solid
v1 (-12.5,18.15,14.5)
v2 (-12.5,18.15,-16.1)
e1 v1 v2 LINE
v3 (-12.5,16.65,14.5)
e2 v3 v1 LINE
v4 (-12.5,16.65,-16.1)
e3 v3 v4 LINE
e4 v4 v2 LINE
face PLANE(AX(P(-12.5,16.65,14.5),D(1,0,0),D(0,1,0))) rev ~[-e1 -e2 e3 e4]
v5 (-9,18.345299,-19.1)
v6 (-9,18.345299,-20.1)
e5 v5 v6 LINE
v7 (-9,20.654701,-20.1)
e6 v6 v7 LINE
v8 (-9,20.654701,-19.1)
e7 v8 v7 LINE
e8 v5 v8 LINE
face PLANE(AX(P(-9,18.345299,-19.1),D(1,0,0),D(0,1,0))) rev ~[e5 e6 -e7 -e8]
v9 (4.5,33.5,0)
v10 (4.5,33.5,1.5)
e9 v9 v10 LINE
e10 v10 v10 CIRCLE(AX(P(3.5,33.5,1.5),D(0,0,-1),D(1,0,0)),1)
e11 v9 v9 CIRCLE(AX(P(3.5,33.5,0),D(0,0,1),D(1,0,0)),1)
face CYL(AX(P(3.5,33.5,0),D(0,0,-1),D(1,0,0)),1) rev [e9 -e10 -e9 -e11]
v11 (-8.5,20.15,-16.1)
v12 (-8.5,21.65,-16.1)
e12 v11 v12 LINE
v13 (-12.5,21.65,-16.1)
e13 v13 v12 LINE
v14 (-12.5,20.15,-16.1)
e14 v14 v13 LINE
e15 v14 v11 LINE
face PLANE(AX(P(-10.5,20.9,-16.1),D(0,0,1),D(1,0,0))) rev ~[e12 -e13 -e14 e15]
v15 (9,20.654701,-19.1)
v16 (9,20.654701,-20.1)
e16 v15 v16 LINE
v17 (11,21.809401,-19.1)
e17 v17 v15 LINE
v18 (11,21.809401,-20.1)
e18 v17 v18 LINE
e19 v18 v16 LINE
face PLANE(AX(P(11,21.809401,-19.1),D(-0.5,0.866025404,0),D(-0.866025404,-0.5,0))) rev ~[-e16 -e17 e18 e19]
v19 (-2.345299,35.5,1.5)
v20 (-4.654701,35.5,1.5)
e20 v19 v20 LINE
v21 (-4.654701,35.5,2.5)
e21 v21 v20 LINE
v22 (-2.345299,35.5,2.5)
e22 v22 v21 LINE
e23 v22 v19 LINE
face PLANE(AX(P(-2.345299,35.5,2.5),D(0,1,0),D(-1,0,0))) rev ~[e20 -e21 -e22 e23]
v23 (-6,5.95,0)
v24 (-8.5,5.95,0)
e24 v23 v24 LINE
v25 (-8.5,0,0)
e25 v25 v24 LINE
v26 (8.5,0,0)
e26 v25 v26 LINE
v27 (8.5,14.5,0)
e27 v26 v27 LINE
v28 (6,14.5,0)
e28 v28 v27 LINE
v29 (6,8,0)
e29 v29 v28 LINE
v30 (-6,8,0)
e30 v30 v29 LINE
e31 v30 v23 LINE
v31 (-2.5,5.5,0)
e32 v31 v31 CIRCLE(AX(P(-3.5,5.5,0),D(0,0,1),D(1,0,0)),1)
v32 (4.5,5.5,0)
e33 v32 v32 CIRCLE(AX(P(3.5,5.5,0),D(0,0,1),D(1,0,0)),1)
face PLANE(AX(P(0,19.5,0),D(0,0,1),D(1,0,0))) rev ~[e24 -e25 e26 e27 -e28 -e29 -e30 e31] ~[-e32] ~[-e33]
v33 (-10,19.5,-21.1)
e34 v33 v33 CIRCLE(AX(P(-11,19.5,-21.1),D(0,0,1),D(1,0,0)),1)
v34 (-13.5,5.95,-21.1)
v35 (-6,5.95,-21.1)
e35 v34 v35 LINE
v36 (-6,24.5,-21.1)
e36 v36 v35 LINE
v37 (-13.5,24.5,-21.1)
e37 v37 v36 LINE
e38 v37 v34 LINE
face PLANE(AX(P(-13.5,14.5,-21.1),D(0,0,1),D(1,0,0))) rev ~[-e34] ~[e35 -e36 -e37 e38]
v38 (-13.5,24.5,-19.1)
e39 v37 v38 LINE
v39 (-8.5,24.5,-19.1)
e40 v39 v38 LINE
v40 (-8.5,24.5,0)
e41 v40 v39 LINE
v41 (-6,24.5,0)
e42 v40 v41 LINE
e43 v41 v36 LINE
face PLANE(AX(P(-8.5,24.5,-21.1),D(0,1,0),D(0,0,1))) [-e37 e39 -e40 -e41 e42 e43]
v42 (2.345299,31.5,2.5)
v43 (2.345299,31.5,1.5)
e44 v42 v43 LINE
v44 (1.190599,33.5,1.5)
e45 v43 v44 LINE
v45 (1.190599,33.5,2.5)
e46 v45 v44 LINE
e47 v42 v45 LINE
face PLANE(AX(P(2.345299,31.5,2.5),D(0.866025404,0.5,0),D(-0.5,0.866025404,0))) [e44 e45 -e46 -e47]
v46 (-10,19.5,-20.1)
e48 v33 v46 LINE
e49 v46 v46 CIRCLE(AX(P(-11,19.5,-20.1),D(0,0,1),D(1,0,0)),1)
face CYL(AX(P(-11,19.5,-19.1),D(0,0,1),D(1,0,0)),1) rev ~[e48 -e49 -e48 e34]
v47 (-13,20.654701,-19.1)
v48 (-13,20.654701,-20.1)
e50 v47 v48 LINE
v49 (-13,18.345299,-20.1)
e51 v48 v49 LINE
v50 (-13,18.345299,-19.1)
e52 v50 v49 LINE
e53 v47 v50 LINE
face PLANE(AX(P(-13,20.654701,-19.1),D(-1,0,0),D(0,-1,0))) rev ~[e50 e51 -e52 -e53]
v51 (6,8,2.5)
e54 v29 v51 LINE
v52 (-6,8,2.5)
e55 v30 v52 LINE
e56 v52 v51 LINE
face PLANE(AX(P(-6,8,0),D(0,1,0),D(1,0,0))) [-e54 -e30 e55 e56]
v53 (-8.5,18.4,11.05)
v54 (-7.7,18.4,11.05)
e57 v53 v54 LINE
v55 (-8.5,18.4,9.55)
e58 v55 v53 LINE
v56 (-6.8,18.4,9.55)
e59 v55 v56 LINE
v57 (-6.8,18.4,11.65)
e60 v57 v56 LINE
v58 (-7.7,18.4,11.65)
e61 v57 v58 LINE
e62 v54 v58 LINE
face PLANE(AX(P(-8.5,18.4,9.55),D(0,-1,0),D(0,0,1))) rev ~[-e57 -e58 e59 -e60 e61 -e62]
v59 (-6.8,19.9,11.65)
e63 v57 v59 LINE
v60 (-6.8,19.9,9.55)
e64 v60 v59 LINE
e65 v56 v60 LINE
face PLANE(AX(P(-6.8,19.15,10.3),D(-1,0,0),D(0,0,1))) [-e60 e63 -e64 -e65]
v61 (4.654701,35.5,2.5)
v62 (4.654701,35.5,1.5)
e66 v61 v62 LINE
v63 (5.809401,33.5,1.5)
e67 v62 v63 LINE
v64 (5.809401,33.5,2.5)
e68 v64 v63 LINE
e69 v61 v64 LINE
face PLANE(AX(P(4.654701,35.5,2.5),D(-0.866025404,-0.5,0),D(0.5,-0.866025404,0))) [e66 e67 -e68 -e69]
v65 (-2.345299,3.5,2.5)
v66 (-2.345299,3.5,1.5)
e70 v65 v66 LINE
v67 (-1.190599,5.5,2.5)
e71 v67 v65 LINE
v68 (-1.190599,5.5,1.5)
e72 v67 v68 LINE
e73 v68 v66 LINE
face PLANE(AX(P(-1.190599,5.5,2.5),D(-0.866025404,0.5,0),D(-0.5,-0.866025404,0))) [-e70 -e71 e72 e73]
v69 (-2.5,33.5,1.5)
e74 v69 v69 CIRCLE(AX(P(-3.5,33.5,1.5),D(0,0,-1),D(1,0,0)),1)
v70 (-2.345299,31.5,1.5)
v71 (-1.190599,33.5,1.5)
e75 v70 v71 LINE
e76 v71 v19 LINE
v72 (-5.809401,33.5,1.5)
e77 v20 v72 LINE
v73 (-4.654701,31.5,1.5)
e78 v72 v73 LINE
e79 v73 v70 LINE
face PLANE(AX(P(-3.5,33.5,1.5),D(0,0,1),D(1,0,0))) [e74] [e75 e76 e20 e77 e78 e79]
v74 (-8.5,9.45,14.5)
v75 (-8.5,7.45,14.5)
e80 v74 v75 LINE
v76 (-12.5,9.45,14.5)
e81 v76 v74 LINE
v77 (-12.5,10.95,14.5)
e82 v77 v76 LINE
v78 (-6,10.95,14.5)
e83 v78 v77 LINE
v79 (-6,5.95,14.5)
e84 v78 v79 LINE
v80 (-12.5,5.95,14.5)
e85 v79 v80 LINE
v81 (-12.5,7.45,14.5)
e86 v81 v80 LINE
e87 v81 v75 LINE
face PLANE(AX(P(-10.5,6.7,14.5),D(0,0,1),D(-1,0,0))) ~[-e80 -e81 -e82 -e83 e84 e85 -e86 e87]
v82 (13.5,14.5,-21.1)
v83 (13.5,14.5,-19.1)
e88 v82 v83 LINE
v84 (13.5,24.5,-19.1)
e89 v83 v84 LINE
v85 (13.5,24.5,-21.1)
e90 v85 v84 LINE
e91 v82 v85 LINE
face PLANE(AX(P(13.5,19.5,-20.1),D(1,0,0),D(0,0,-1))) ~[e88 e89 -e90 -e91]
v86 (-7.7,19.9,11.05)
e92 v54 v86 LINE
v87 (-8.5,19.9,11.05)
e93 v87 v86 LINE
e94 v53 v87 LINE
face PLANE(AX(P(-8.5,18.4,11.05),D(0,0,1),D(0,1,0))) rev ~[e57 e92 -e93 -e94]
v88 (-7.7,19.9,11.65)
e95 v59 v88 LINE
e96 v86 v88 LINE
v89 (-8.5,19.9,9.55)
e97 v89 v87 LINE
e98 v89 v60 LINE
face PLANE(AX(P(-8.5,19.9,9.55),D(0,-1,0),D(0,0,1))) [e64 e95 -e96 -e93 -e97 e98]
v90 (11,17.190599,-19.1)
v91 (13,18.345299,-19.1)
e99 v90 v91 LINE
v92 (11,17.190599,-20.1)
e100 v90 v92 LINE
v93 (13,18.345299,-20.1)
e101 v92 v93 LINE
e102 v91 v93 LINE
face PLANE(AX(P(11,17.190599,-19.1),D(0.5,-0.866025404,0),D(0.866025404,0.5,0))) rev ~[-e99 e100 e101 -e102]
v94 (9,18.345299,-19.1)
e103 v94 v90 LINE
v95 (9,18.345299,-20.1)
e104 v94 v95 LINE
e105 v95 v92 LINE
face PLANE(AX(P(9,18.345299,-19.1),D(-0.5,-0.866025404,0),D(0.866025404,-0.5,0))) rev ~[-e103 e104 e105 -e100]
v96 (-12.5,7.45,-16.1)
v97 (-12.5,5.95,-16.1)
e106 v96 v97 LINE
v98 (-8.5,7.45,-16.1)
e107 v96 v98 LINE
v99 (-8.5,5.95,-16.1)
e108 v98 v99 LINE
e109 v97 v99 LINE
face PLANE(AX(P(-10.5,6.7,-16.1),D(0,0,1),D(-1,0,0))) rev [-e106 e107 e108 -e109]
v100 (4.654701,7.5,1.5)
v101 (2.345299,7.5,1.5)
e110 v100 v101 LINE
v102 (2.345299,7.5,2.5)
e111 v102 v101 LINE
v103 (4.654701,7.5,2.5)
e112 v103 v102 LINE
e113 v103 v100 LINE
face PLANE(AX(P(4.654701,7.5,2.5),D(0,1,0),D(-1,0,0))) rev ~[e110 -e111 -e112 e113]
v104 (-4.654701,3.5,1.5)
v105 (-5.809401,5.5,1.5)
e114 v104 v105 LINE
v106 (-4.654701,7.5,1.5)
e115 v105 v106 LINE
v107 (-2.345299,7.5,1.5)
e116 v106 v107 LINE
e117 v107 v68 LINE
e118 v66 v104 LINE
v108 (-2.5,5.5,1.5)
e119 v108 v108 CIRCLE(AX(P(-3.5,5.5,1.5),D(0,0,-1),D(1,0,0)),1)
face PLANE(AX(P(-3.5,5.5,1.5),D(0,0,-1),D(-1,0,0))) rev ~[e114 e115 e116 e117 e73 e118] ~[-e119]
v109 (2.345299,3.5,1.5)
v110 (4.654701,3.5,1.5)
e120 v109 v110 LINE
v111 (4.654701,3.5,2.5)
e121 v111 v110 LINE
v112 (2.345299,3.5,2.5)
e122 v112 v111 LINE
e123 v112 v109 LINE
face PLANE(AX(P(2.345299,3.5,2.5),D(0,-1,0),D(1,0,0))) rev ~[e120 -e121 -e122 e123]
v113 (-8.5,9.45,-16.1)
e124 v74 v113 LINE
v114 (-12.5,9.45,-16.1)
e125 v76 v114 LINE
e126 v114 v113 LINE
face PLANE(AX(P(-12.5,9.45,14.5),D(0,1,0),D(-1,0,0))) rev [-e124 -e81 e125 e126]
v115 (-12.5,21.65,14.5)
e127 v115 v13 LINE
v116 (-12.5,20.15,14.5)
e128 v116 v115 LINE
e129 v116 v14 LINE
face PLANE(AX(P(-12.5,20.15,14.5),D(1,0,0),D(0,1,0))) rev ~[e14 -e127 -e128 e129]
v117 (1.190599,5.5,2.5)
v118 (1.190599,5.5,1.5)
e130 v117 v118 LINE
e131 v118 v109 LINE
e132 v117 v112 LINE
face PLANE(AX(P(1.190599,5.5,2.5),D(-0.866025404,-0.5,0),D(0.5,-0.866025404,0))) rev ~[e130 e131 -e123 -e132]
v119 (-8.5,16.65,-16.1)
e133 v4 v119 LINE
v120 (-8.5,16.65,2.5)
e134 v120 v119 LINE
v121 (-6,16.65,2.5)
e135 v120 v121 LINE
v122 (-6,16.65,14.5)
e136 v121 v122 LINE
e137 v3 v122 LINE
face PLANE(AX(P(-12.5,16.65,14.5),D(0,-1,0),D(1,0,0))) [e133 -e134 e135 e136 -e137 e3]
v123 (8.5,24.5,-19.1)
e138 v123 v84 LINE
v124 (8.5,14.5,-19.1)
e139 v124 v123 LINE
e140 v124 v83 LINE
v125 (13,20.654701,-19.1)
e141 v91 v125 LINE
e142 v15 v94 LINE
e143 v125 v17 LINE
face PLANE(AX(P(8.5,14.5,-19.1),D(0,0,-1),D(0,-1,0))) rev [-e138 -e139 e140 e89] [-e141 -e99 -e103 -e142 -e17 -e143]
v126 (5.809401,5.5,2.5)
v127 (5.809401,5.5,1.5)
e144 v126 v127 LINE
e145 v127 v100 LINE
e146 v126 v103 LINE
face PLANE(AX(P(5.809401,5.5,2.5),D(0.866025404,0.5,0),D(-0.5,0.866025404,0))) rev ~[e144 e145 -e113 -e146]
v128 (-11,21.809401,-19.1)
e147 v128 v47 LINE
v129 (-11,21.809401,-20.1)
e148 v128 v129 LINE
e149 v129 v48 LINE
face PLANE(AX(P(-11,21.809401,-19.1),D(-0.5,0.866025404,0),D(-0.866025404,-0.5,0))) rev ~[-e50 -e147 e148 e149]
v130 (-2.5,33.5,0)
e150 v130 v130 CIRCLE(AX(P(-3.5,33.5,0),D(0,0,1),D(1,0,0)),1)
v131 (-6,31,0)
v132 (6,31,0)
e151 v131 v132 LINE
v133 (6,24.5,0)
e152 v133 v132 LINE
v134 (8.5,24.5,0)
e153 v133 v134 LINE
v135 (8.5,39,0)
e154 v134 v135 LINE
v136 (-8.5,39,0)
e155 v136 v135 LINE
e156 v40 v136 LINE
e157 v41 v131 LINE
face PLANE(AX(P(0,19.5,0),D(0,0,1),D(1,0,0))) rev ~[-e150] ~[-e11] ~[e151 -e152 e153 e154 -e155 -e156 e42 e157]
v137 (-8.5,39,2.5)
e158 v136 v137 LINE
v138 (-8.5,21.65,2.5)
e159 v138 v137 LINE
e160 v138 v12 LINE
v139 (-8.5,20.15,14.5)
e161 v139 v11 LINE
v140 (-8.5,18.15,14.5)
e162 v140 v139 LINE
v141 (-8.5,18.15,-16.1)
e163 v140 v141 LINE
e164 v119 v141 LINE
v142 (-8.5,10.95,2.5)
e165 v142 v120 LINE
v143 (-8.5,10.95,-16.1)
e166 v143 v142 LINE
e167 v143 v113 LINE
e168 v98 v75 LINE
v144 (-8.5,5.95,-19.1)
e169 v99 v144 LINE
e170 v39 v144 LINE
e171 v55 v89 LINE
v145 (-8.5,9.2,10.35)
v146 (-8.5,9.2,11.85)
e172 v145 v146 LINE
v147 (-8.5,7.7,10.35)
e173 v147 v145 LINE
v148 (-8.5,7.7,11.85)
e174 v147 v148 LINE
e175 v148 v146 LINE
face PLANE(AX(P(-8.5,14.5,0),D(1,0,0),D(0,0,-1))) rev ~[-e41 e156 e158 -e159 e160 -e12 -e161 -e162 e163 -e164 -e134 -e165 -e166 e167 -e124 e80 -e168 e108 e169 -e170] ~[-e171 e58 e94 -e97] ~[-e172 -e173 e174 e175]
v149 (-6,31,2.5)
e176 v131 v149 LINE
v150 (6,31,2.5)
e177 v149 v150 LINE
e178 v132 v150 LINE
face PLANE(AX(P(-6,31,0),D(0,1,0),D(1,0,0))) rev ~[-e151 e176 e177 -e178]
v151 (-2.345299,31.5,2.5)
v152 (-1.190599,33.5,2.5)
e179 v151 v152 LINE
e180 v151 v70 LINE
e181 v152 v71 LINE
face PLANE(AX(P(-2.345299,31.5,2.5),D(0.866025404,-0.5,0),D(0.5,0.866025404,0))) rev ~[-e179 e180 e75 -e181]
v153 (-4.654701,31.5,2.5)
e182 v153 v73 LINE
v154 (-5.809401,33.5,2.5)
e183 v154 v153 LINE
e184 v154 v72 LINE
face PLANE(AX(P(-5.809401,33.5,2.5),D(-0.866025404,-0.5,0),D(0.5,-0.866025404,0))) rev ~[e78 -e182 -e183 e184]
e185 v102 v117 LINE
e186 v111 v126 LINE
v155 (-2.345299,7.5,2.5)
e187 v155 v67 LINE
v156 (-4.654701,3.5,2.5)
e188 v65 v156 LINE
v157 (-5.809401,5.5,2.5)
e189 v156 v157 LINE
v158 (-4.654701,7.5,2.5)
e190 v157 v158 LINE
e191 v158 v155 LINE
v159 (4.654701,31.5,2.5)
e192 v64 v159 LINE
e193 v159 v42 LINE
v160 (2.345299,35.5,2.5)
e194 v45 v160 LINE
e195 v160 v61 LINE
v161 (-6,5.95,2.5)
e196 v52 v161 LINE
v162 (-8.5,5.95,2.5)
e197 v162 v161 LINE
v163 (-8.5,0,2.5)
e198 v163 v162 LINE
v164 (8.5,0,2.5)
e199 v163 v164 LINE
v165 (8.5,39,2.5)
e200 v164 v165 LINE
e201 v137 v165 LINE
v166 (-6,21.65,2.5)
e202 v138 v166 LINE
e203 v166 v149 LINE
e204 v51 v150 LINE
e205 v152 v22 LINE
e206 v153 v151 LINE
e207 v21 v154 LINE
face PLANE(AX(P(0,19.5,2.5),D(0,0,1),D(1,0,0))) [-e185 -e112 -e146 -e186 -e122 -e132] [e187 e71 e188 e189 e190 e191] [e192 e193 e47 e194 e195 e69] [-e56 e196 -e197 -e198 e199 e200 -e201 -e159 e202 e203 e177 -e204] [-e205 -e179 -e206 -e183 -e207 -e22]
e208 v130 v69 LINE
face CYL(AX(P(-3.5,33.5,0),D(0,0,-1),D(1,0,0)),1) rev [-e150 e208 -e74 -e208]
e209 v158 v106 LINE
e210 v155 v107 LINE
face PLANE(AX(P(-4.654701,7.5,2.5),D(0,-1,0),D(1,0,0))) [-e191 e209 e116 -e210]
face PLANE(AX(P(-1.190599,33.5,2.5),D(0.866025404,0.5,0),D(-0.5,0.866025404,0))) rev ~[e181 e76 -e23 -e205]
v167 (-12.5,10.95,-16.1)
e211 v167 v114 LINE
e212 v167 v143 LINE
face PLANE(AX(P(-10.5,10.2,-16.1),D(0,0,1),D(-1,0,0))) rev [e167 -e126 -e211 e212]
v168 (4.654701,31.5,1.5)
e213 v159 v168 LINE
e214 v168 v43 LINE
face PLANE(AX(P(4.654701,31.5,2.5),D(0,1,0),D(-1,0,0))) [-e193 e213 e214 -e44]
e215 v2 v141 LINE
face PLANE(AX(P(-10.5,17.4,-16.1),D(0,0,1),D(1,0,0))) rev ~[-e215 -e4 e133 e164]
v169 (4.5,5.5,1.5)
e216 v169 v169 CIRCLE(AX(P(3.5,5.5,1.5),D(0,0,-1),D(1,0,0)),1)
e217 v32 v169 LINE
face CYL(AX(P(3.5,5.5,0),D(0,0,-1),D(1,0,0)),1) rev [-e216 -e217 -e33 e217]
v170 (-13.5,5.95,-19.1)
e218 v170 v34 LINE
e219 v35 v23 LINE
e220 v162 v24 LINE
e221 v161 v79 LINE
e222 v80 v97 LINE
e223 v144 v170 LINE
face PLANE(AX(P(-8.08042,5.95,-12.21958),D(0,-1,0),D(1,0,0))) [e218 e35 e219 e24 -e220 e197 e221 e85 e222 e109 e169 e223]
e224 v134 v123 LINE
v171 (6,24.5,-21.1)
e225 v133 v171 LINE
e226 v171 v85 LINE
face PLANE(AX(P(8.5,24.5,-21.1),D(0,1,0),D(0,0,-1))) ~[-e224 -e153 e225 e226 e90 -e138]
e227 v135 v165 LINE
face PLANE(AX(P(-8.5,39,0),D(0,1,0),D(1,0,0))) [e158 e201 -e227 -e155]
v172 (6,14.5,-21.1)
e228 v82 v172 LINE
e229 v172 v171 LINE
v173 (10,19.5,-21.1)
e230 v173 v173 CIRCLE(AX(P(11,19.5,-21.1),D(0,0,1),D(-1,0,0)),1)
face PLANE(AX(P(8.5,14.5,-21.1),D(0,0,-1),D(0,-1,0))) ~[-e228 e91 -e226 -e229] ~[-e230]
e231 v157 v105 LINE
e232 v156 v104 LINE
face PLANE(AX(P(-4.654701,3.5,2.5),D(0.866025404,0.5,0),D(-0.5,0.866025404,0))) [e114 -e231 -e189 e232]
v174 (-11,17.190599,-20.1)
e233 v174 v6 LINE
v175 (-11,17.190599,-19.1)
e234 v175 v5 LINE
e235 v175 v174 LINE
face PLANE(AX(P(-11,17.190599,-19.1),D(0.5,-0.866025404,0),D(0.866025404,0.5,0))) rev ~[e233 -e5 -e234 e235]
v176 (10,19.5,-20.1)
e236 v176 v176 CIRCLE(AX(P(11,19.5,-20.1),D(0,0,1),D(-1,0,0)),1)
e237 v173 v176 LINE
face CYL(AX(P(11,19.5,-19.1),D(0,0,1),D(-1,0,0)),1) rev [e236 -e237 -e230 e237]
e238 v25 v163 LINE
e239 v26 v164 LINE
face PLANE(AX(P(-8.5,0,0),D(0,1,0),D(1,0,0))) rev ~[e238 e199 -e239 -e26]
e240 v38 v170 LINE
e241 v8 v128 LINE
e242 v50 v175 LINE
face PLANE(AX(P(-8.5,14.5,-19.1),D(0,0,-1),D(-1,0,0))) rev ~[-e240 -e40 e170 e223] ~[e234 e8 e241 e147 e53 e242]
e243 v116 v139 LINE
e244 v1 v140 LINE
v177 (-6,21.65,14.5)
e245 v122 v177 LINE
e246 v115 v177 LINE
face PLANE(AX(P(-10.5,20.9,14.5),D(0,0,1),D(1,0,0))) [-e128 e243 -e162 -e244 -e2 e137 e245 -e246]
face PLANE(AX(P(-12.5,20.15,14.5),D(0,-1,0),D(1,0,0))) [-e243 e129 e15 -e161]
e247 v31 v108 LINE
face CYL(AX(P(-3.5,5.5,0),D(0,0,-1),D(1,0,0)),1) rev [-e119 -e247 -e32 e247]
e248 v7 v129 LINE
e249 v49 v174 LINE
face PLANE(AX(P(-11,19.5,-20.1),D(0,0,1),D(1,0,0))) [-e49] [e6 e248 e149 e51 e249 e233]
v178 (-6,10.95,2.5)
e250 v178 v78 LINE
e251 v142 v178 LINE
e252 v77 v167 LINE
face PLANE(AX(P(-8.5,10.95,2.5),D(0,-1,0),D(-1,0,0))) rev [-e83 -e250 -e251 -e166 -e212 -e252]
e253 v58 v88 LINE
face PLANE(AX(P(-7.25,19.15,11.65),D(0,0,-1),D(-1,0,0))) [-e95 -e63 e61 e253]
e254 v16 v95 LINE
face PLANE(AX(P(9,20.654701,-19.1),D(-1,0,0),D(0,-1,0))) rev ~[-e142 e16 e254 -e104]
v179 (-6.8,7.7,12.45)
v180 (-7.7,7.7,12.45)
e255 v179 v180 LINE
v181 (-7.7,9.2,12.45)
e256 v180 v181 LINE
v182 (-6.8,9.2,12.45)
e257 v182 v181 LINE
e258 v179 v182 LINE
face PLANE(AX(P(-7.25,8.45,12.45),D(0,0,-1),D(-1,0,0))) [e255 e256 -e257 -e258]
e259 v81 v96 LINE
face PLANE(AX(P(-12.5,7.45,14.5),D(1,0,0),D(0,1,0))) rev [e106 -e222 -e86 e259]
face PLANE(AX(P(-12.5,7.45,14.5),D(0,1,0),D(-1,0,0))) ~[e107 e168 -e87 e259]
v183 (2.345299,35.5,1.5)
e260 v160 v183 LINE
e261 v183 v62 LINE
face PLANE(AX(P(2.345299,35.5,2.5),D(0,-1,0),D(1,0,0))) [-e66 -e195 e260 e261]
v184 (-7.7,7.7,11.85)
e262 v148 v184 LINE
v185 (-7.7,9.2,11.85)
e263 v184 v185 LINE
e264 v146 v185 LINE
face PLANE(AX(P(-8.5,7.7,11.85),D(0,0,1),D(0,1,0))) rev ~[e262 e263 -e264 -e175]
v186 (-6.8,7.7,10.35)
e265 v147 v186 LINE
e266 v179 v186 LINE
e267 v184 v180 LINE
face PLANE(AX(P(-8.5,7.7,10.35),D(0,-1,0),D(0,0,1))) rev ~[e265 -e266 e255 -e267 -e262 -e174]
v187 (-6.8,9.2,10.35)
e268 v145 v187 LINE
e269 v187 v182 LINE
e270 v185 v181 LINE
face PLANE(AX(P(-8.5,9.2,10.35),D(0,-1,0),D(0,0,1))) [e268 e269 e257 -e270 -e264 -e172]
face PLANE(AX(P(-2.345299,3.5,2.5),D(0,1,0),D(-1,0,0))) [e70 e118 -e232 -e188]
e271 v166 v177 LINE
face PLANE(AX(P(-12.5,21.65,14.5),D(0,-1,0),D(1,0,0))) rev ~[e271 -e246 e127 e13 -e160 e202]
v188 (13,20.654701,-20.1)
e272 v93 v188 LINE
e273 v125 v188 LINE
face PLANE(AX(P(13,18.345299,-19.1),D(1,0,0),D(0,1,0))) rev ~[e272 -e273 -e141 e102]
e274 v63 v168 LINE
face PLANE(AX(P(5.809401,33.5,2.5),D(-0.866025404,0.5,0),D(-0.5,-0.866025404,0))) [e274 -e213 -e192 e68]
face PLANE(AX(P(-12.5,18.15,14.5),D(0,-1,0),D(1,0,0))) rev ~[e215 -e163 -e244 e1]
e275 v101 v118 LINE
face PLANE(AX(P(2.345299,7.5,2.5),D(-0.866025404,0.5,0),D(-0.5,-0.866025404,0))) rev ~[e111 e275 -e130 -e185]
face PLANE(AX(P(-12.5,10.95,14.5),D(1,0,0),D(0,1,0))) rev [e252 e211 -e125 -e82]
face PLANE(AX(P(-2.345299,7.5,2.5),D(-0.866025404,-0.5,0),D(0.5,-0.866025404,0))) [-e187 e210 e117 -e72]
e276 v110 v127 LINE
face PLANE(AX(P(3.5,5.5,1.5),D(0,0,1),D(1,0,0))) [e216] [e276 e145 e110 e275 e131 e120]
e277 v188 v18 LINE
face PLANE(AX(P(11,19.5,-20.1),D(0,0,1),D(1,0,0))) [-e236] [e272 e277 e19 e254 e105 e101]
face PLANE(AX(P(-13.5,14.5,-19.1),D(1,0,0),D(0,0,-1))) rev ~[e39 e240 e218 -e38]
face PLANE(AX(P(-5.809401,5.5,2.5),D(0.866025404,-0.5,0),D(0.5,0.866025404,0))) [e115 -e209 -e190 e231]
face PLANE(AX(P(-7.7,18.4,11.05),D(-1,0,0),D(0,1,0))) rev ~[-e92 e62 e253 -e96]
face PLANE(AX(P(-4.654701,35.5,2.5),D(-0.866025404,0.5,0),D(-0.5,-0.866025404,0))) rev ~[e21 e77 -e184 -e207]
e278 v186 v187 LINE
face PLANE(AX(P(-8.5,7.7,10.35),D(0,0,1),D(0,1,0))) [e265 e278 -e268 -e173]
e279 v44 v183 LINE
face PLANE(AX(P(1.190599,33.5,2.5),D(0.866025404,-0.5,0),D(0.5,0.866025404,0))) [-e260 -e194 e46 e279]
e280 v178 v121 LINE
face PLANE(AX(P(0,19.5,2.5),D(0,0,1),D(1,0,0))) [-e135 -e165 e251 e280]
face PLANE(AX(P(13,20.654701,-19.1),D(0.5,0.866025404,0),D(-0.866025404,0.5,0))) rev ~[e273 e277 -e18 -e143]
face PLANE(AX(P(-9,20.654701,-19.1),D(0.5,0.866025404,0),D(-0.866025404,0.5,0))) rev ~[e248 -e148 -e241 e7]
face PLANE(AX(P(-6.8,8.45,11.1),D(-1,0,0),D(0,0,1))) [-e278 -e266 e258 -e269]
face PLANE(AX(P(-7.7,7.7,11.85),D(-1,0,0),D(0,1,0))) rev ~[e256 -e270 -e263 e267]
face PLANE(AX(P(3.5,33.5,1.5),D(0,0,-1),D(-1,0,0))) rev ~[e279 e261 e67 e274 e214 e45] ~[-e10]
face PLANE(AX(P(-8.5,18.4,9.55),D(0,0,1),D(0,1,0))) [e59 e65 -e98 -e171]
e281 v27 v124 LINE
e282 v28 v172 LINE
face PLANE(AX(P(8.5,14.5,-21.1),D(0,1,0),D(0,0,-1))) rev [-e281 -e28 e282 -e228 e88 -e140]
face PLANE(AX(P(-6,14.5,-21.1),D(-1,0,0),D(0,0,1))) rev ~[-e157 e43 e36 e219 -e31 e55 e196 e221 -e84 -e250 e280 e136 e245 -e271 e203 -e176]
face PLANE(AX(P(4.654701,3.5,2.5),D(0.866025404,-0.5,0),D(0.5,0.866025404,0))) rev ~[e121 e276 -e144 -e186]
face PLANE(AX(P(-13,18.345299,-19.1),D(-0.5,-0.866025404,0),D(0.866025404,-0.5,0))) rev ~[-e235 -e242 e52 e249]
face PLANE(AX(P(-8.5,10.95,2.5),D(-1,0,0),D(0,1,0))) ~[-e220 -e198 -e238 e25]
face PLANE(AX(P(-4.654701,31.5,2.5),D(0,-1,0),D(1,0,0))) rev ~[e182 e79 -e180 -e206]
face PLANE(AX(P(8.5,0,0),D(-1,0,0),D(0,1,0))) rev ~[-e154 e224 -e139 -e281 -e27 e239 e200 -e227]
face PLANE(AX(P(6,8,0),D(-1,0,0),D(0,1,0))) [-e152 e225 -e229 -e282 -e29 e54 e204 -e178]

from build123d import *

# Parameters (mm, degrees)
SKETCH1_W                     = 17
SKETCH1_H                     = 39
SKETCH1_R                     = 1
SKETCH1_W_2                   = 12
SKETCH1_H_2                   = 23
SERVOBRACKET_DEPTH            = 2.5
SKETCH1_5_W                   = 2.5
SKETCH1_5_H                   = 10
SUPPORTLEGS_DEPTH             = 21.1
SKETCH2_W                     = 2
SKETCH2_H                     = 10
SUPPORTFOOT_DEPTH             = 5
SKETCH3_R                     = 1
BASEBOLTHOLE_DEPTH            = 47.581219392
SERVONUTSLOTS_DEPTH           = 1
BASENUTSLOTS_DEPTH            = 1
SKETCH6_W                     = 2.5
SKETCH6_H                     = 5
TUBEHOLDERBASE_DEPTH          = 12
SKETCH7_W                     = 4
SKETCH7_H                     = 1.5
TUBEHOLDERSTIFFENERRIBS_DEPTH = 30.6
SKETCH8_W                     = 1.5
SKETCH8_H                     = 1.5
SKETCH8_W_2                   = 1
SKETCH8_H_2                   = 1
TUBECLIPENTRANCES_DEPTH       = 1.7
SKETCH9_W                     = 0.9
SKETCH9_H                     = 1.5
TUBECLIPLOCKSLOT_DEPTH        = 0.6
SKETCH10_W                    = 0.9
SKETCH10_H                    = 1.5
TUBECLIPLOCKSLOT2_DEPTH       = 0.6
SUPPORTLEGEXTENSION_DEPTH     = 8.55


with BuildPart() as part:
    # Sketch1 → ServoBracket (new body)
    with BuildSketch(Plane.XY):
        with Locations((0, 19.5)):
            Rectangle(SKETCH1_W, SKETCH1_H)
        with Locations((-3.5, 33.5)):
            Circle(SKETCH1_R, mode=Mode.SUBTRACT)
        with Locations((-3.5, 5.5)):
            Circle(SKETCH1_R, mode=Mode.SUBTRACT)
        with Locations((3.5, 5.5)):
            Circle(SKETCH1_R, mode=Mode.SUBTRACT)
        with Locations((3.5, 33.5)):
            Circle(SKETCH1_R, mode=Mode.SUBTRACT)
        with Locations((0, 19.5)):
            Rectangle(SKETCH1_W_2, SKETCH1_H_2, mode=Mode.SUBTRACT)
    extrude(amount=SERVOBRACKET_DEPTH)

    # Sketch1<5> → SupportLegs (add)
    with BuildSketch(Plane.XY):
        with Locations((-7.25, 19.5)):
            Rectangle(SKETCH1_5_W, SKETCH1_5_H)
        with Locations((7.25, 19.5)):
            Rectangle(SKETCH1_5_W, SKETCH1_5_H)
    extrude(amount=-SUPPORTLEGS_DEPTH)

    # Sketch2 → SupportFoot (add)
    with BuildSketch(Plane.ZY.offset(8.5)):
        with Locations((-20.1, 19.5)):
            Rectangle(SKETCH2_W, SKETCH2_H)
    supportfoot = extrude(amount=SUPPORTFOOT_DEPTH)

    # Sketch3 → BaseBoltHole (cut, symmetric)
    with BuildSketch(Plane.XY.offset(-19.1)):
        with Locations((-11, 19.5)):
            Circle(SKETCH3_R)
    basebolthole = extrude(amount=BASEBOLTHOLE_DEPTH, both=True, mode=Mode.SUBTRACT)

    # SupportFoot2: SupportFoot, BaseBoltHole across plane
    add(supportfoot.mirror(Plane(origin=(0, 0, 0), x_dir=(0, 0, 1), z_dir=(1, 0, 0))))
    add(basebolthole.mirror(Plane(origin=(0, 0, 0), x_dir=(0, 0, 1), z_dir=(1, 0, 0))), mode=Mode.SUBTRACT)

    # Sketch4 → ServoNutSlots (cut)
    with BuildSketch(Plane.XY.offset(2.5)):
        Polygon((-4.654700538, 7.5), (-2.345299462, 7.5), (-1.190598923, 5.5), (-2.345299462, 3.5), (-4.654700538, 3.5), (-5.809401077, 5.5), align=None)
        Polygon((-1.190598923, 33.5), (-2.345299462, 35.5), (-4.654700538, 35.5), (-5.809401077, 33.5), (-4.654700538, 31.5), (-2.345299462, 31.5), align=None)
        Polygon((2.345299462, 31.5), (1.190598923, 33.5), (2.345299462, 35.5), (4.654700538, 35.5), (5.809401077, 33.5), (4.654700538, 31.5), align=None)
        Polygon((4.654700538, 7.5), (2.345299462, 7.5), (1.190598923, 5.5), (2.345299462, 3.5), (4.654700538, 3.5), (5.809401077, 5.5), align=None)
    extrude(amount=-SERVONUTSLOTS_DEPTH, mode=Mode.SUBTRACT)

    # Sketch5 → BaseNutSlots (cut)
    with BuildSketch(Plane.XY.offset(-19.1)):
        Polygon((-11, 21.809401077), (-13, 20.654700538), (-13, 18.345299462), (-11, 17.190598923), (-9, 18.345299462), (-9, 20.654700538), align=None)
        Polygon((11, 21.809401077), (9, 20.654700538), (9, 18.345299462), (11, 17.190598923), (13, 18.345299462), (13, 20.654700538), align=None)
    extrude(amount=-BASENUTSLOTS_DEPTH, mode=Mode.SUBTRACT)

    # Sketch6 → TubeHolderBase (add)
    with BuildSketch(Plane.XY.offset(2.5)):
        with Locations((-7.25, 19.15)):
            Rectangle(SKETCH6_W, SKETCH6_H)
    tubeholderbase = extrude(amount=TUBEHOLDERBASE_DEPTH)

    # Sketch7 → TubeHolderStiffenerRibs (add)
    with BuildSketch(Plane.XY.offset(14.5)):
        with Locations((-10.5, 20.9)):
            Rectangle(SKETCH7_W, SKETCH7_H)
        with Locations((-10.5, 17.4)):
            Rectangle(SKETCH7_W, SKETCH7_H)
    tubeholderstiffenerribs = extrude(amount=-TUBEHOLDERSTIFFENERRIBS_DEPTH)

    # TubeHolder2: TubeHolderBase, TubeHolderStiffenerRibs across plane
    add(tubeholderbase.mirror(Plane.ZX.offset(13.8)))
    add(tubeholderstiffenerribs.mirror(Plane.ZX.offset(13.8)))

    # Sketch8 → TubeClipEntrances (cut)
    # profile 1 of 4: a face of its own
    with BuildSketch(Plane.ZY.offset(8.5)):
        with Locations((10.3, 19.15)):
            Rectangle(SKETCH8_W, SKETCH8_H)
        with Locations((10.3, 19.15)):
            Rectangle(SKETCH8_W_2, SKETCH8_H_2, mode=Mode.SUBTRACT)
    # profile 2 of 4: a face of its own
    with BuildSketch(Plane.ZY.offset(8.5)):
        with Locations((10.3, 19.15)):
            Rectangle(SKETCH8_W_2, SKETCH8_H_2)
    # profile 3 of 4: a face of its own
    with BuildSketch(Plane.ZY.offset(8.5)):
        with Locations((11.1, 8.45)):
            Rectangle(SKETCH8_W, SKETCH8_H)
        with Locations((11.1, 8.45)):
            Rectangle(SKETCH8_W_2, SKETCH8_H_2, mode=Mode.SUBTRACT)
    # profile 4 of 4: a face of its own
    with BuildSketch(Plane.ZY.offset(8.5)):
        with Locations((11.1, 8.45)):
            Rectangle(SKETCH8_W_2, SKETCH8_H_2)
    extrude(amount=-TUBECLIPENTRANCES_DEPTH, mode=Mode.SUBTRACT)

    # Sketch9 → TubeClipLockSlot (cut)
    with BuildSketch(Plane(origin=(0, 0, 11.05), x_dir=(-1, 0, 0), z_dir=(0, 0, -1))):
        with Locations((7.25, 19.15)):
            Rectangle(SKETCH9_W, SKETCH9_H)
    extrude(amount=-TUBECLIPLOCKSLOT_DEPTH, mode=Mode.SUBTRACT)

    # Sketch10 → TubeClipLockSlot2 (cut)
    with BuildSketch(Plane(origin=(0, 0, 11.85), x_dir=(-1, 0, 0), z_dir=(0, 0, -1))):
        with Locations((7.25, 8.45)):
            Rectangle(SKETCH10_W, SKETCH10_H)
    extrude(amount=-TUBECLIPLOCKSLOT2_DEPTH, mode=Mode.SUBTRACT)

    # Sketch11 → SupportLegExtension (add)
    with BuildSketch(Plane.XZ.offset(-14.5)):
        Polygon((-6, 0), (-8.5, 0), (-8.5, -19.1), (-13.5, -19.1), (-13.5, -21.1), (-6, -21.1), align=None)
    extrude(amount=SUPPORTLEGEXTENSION_DEPTH)


solid = part.part
